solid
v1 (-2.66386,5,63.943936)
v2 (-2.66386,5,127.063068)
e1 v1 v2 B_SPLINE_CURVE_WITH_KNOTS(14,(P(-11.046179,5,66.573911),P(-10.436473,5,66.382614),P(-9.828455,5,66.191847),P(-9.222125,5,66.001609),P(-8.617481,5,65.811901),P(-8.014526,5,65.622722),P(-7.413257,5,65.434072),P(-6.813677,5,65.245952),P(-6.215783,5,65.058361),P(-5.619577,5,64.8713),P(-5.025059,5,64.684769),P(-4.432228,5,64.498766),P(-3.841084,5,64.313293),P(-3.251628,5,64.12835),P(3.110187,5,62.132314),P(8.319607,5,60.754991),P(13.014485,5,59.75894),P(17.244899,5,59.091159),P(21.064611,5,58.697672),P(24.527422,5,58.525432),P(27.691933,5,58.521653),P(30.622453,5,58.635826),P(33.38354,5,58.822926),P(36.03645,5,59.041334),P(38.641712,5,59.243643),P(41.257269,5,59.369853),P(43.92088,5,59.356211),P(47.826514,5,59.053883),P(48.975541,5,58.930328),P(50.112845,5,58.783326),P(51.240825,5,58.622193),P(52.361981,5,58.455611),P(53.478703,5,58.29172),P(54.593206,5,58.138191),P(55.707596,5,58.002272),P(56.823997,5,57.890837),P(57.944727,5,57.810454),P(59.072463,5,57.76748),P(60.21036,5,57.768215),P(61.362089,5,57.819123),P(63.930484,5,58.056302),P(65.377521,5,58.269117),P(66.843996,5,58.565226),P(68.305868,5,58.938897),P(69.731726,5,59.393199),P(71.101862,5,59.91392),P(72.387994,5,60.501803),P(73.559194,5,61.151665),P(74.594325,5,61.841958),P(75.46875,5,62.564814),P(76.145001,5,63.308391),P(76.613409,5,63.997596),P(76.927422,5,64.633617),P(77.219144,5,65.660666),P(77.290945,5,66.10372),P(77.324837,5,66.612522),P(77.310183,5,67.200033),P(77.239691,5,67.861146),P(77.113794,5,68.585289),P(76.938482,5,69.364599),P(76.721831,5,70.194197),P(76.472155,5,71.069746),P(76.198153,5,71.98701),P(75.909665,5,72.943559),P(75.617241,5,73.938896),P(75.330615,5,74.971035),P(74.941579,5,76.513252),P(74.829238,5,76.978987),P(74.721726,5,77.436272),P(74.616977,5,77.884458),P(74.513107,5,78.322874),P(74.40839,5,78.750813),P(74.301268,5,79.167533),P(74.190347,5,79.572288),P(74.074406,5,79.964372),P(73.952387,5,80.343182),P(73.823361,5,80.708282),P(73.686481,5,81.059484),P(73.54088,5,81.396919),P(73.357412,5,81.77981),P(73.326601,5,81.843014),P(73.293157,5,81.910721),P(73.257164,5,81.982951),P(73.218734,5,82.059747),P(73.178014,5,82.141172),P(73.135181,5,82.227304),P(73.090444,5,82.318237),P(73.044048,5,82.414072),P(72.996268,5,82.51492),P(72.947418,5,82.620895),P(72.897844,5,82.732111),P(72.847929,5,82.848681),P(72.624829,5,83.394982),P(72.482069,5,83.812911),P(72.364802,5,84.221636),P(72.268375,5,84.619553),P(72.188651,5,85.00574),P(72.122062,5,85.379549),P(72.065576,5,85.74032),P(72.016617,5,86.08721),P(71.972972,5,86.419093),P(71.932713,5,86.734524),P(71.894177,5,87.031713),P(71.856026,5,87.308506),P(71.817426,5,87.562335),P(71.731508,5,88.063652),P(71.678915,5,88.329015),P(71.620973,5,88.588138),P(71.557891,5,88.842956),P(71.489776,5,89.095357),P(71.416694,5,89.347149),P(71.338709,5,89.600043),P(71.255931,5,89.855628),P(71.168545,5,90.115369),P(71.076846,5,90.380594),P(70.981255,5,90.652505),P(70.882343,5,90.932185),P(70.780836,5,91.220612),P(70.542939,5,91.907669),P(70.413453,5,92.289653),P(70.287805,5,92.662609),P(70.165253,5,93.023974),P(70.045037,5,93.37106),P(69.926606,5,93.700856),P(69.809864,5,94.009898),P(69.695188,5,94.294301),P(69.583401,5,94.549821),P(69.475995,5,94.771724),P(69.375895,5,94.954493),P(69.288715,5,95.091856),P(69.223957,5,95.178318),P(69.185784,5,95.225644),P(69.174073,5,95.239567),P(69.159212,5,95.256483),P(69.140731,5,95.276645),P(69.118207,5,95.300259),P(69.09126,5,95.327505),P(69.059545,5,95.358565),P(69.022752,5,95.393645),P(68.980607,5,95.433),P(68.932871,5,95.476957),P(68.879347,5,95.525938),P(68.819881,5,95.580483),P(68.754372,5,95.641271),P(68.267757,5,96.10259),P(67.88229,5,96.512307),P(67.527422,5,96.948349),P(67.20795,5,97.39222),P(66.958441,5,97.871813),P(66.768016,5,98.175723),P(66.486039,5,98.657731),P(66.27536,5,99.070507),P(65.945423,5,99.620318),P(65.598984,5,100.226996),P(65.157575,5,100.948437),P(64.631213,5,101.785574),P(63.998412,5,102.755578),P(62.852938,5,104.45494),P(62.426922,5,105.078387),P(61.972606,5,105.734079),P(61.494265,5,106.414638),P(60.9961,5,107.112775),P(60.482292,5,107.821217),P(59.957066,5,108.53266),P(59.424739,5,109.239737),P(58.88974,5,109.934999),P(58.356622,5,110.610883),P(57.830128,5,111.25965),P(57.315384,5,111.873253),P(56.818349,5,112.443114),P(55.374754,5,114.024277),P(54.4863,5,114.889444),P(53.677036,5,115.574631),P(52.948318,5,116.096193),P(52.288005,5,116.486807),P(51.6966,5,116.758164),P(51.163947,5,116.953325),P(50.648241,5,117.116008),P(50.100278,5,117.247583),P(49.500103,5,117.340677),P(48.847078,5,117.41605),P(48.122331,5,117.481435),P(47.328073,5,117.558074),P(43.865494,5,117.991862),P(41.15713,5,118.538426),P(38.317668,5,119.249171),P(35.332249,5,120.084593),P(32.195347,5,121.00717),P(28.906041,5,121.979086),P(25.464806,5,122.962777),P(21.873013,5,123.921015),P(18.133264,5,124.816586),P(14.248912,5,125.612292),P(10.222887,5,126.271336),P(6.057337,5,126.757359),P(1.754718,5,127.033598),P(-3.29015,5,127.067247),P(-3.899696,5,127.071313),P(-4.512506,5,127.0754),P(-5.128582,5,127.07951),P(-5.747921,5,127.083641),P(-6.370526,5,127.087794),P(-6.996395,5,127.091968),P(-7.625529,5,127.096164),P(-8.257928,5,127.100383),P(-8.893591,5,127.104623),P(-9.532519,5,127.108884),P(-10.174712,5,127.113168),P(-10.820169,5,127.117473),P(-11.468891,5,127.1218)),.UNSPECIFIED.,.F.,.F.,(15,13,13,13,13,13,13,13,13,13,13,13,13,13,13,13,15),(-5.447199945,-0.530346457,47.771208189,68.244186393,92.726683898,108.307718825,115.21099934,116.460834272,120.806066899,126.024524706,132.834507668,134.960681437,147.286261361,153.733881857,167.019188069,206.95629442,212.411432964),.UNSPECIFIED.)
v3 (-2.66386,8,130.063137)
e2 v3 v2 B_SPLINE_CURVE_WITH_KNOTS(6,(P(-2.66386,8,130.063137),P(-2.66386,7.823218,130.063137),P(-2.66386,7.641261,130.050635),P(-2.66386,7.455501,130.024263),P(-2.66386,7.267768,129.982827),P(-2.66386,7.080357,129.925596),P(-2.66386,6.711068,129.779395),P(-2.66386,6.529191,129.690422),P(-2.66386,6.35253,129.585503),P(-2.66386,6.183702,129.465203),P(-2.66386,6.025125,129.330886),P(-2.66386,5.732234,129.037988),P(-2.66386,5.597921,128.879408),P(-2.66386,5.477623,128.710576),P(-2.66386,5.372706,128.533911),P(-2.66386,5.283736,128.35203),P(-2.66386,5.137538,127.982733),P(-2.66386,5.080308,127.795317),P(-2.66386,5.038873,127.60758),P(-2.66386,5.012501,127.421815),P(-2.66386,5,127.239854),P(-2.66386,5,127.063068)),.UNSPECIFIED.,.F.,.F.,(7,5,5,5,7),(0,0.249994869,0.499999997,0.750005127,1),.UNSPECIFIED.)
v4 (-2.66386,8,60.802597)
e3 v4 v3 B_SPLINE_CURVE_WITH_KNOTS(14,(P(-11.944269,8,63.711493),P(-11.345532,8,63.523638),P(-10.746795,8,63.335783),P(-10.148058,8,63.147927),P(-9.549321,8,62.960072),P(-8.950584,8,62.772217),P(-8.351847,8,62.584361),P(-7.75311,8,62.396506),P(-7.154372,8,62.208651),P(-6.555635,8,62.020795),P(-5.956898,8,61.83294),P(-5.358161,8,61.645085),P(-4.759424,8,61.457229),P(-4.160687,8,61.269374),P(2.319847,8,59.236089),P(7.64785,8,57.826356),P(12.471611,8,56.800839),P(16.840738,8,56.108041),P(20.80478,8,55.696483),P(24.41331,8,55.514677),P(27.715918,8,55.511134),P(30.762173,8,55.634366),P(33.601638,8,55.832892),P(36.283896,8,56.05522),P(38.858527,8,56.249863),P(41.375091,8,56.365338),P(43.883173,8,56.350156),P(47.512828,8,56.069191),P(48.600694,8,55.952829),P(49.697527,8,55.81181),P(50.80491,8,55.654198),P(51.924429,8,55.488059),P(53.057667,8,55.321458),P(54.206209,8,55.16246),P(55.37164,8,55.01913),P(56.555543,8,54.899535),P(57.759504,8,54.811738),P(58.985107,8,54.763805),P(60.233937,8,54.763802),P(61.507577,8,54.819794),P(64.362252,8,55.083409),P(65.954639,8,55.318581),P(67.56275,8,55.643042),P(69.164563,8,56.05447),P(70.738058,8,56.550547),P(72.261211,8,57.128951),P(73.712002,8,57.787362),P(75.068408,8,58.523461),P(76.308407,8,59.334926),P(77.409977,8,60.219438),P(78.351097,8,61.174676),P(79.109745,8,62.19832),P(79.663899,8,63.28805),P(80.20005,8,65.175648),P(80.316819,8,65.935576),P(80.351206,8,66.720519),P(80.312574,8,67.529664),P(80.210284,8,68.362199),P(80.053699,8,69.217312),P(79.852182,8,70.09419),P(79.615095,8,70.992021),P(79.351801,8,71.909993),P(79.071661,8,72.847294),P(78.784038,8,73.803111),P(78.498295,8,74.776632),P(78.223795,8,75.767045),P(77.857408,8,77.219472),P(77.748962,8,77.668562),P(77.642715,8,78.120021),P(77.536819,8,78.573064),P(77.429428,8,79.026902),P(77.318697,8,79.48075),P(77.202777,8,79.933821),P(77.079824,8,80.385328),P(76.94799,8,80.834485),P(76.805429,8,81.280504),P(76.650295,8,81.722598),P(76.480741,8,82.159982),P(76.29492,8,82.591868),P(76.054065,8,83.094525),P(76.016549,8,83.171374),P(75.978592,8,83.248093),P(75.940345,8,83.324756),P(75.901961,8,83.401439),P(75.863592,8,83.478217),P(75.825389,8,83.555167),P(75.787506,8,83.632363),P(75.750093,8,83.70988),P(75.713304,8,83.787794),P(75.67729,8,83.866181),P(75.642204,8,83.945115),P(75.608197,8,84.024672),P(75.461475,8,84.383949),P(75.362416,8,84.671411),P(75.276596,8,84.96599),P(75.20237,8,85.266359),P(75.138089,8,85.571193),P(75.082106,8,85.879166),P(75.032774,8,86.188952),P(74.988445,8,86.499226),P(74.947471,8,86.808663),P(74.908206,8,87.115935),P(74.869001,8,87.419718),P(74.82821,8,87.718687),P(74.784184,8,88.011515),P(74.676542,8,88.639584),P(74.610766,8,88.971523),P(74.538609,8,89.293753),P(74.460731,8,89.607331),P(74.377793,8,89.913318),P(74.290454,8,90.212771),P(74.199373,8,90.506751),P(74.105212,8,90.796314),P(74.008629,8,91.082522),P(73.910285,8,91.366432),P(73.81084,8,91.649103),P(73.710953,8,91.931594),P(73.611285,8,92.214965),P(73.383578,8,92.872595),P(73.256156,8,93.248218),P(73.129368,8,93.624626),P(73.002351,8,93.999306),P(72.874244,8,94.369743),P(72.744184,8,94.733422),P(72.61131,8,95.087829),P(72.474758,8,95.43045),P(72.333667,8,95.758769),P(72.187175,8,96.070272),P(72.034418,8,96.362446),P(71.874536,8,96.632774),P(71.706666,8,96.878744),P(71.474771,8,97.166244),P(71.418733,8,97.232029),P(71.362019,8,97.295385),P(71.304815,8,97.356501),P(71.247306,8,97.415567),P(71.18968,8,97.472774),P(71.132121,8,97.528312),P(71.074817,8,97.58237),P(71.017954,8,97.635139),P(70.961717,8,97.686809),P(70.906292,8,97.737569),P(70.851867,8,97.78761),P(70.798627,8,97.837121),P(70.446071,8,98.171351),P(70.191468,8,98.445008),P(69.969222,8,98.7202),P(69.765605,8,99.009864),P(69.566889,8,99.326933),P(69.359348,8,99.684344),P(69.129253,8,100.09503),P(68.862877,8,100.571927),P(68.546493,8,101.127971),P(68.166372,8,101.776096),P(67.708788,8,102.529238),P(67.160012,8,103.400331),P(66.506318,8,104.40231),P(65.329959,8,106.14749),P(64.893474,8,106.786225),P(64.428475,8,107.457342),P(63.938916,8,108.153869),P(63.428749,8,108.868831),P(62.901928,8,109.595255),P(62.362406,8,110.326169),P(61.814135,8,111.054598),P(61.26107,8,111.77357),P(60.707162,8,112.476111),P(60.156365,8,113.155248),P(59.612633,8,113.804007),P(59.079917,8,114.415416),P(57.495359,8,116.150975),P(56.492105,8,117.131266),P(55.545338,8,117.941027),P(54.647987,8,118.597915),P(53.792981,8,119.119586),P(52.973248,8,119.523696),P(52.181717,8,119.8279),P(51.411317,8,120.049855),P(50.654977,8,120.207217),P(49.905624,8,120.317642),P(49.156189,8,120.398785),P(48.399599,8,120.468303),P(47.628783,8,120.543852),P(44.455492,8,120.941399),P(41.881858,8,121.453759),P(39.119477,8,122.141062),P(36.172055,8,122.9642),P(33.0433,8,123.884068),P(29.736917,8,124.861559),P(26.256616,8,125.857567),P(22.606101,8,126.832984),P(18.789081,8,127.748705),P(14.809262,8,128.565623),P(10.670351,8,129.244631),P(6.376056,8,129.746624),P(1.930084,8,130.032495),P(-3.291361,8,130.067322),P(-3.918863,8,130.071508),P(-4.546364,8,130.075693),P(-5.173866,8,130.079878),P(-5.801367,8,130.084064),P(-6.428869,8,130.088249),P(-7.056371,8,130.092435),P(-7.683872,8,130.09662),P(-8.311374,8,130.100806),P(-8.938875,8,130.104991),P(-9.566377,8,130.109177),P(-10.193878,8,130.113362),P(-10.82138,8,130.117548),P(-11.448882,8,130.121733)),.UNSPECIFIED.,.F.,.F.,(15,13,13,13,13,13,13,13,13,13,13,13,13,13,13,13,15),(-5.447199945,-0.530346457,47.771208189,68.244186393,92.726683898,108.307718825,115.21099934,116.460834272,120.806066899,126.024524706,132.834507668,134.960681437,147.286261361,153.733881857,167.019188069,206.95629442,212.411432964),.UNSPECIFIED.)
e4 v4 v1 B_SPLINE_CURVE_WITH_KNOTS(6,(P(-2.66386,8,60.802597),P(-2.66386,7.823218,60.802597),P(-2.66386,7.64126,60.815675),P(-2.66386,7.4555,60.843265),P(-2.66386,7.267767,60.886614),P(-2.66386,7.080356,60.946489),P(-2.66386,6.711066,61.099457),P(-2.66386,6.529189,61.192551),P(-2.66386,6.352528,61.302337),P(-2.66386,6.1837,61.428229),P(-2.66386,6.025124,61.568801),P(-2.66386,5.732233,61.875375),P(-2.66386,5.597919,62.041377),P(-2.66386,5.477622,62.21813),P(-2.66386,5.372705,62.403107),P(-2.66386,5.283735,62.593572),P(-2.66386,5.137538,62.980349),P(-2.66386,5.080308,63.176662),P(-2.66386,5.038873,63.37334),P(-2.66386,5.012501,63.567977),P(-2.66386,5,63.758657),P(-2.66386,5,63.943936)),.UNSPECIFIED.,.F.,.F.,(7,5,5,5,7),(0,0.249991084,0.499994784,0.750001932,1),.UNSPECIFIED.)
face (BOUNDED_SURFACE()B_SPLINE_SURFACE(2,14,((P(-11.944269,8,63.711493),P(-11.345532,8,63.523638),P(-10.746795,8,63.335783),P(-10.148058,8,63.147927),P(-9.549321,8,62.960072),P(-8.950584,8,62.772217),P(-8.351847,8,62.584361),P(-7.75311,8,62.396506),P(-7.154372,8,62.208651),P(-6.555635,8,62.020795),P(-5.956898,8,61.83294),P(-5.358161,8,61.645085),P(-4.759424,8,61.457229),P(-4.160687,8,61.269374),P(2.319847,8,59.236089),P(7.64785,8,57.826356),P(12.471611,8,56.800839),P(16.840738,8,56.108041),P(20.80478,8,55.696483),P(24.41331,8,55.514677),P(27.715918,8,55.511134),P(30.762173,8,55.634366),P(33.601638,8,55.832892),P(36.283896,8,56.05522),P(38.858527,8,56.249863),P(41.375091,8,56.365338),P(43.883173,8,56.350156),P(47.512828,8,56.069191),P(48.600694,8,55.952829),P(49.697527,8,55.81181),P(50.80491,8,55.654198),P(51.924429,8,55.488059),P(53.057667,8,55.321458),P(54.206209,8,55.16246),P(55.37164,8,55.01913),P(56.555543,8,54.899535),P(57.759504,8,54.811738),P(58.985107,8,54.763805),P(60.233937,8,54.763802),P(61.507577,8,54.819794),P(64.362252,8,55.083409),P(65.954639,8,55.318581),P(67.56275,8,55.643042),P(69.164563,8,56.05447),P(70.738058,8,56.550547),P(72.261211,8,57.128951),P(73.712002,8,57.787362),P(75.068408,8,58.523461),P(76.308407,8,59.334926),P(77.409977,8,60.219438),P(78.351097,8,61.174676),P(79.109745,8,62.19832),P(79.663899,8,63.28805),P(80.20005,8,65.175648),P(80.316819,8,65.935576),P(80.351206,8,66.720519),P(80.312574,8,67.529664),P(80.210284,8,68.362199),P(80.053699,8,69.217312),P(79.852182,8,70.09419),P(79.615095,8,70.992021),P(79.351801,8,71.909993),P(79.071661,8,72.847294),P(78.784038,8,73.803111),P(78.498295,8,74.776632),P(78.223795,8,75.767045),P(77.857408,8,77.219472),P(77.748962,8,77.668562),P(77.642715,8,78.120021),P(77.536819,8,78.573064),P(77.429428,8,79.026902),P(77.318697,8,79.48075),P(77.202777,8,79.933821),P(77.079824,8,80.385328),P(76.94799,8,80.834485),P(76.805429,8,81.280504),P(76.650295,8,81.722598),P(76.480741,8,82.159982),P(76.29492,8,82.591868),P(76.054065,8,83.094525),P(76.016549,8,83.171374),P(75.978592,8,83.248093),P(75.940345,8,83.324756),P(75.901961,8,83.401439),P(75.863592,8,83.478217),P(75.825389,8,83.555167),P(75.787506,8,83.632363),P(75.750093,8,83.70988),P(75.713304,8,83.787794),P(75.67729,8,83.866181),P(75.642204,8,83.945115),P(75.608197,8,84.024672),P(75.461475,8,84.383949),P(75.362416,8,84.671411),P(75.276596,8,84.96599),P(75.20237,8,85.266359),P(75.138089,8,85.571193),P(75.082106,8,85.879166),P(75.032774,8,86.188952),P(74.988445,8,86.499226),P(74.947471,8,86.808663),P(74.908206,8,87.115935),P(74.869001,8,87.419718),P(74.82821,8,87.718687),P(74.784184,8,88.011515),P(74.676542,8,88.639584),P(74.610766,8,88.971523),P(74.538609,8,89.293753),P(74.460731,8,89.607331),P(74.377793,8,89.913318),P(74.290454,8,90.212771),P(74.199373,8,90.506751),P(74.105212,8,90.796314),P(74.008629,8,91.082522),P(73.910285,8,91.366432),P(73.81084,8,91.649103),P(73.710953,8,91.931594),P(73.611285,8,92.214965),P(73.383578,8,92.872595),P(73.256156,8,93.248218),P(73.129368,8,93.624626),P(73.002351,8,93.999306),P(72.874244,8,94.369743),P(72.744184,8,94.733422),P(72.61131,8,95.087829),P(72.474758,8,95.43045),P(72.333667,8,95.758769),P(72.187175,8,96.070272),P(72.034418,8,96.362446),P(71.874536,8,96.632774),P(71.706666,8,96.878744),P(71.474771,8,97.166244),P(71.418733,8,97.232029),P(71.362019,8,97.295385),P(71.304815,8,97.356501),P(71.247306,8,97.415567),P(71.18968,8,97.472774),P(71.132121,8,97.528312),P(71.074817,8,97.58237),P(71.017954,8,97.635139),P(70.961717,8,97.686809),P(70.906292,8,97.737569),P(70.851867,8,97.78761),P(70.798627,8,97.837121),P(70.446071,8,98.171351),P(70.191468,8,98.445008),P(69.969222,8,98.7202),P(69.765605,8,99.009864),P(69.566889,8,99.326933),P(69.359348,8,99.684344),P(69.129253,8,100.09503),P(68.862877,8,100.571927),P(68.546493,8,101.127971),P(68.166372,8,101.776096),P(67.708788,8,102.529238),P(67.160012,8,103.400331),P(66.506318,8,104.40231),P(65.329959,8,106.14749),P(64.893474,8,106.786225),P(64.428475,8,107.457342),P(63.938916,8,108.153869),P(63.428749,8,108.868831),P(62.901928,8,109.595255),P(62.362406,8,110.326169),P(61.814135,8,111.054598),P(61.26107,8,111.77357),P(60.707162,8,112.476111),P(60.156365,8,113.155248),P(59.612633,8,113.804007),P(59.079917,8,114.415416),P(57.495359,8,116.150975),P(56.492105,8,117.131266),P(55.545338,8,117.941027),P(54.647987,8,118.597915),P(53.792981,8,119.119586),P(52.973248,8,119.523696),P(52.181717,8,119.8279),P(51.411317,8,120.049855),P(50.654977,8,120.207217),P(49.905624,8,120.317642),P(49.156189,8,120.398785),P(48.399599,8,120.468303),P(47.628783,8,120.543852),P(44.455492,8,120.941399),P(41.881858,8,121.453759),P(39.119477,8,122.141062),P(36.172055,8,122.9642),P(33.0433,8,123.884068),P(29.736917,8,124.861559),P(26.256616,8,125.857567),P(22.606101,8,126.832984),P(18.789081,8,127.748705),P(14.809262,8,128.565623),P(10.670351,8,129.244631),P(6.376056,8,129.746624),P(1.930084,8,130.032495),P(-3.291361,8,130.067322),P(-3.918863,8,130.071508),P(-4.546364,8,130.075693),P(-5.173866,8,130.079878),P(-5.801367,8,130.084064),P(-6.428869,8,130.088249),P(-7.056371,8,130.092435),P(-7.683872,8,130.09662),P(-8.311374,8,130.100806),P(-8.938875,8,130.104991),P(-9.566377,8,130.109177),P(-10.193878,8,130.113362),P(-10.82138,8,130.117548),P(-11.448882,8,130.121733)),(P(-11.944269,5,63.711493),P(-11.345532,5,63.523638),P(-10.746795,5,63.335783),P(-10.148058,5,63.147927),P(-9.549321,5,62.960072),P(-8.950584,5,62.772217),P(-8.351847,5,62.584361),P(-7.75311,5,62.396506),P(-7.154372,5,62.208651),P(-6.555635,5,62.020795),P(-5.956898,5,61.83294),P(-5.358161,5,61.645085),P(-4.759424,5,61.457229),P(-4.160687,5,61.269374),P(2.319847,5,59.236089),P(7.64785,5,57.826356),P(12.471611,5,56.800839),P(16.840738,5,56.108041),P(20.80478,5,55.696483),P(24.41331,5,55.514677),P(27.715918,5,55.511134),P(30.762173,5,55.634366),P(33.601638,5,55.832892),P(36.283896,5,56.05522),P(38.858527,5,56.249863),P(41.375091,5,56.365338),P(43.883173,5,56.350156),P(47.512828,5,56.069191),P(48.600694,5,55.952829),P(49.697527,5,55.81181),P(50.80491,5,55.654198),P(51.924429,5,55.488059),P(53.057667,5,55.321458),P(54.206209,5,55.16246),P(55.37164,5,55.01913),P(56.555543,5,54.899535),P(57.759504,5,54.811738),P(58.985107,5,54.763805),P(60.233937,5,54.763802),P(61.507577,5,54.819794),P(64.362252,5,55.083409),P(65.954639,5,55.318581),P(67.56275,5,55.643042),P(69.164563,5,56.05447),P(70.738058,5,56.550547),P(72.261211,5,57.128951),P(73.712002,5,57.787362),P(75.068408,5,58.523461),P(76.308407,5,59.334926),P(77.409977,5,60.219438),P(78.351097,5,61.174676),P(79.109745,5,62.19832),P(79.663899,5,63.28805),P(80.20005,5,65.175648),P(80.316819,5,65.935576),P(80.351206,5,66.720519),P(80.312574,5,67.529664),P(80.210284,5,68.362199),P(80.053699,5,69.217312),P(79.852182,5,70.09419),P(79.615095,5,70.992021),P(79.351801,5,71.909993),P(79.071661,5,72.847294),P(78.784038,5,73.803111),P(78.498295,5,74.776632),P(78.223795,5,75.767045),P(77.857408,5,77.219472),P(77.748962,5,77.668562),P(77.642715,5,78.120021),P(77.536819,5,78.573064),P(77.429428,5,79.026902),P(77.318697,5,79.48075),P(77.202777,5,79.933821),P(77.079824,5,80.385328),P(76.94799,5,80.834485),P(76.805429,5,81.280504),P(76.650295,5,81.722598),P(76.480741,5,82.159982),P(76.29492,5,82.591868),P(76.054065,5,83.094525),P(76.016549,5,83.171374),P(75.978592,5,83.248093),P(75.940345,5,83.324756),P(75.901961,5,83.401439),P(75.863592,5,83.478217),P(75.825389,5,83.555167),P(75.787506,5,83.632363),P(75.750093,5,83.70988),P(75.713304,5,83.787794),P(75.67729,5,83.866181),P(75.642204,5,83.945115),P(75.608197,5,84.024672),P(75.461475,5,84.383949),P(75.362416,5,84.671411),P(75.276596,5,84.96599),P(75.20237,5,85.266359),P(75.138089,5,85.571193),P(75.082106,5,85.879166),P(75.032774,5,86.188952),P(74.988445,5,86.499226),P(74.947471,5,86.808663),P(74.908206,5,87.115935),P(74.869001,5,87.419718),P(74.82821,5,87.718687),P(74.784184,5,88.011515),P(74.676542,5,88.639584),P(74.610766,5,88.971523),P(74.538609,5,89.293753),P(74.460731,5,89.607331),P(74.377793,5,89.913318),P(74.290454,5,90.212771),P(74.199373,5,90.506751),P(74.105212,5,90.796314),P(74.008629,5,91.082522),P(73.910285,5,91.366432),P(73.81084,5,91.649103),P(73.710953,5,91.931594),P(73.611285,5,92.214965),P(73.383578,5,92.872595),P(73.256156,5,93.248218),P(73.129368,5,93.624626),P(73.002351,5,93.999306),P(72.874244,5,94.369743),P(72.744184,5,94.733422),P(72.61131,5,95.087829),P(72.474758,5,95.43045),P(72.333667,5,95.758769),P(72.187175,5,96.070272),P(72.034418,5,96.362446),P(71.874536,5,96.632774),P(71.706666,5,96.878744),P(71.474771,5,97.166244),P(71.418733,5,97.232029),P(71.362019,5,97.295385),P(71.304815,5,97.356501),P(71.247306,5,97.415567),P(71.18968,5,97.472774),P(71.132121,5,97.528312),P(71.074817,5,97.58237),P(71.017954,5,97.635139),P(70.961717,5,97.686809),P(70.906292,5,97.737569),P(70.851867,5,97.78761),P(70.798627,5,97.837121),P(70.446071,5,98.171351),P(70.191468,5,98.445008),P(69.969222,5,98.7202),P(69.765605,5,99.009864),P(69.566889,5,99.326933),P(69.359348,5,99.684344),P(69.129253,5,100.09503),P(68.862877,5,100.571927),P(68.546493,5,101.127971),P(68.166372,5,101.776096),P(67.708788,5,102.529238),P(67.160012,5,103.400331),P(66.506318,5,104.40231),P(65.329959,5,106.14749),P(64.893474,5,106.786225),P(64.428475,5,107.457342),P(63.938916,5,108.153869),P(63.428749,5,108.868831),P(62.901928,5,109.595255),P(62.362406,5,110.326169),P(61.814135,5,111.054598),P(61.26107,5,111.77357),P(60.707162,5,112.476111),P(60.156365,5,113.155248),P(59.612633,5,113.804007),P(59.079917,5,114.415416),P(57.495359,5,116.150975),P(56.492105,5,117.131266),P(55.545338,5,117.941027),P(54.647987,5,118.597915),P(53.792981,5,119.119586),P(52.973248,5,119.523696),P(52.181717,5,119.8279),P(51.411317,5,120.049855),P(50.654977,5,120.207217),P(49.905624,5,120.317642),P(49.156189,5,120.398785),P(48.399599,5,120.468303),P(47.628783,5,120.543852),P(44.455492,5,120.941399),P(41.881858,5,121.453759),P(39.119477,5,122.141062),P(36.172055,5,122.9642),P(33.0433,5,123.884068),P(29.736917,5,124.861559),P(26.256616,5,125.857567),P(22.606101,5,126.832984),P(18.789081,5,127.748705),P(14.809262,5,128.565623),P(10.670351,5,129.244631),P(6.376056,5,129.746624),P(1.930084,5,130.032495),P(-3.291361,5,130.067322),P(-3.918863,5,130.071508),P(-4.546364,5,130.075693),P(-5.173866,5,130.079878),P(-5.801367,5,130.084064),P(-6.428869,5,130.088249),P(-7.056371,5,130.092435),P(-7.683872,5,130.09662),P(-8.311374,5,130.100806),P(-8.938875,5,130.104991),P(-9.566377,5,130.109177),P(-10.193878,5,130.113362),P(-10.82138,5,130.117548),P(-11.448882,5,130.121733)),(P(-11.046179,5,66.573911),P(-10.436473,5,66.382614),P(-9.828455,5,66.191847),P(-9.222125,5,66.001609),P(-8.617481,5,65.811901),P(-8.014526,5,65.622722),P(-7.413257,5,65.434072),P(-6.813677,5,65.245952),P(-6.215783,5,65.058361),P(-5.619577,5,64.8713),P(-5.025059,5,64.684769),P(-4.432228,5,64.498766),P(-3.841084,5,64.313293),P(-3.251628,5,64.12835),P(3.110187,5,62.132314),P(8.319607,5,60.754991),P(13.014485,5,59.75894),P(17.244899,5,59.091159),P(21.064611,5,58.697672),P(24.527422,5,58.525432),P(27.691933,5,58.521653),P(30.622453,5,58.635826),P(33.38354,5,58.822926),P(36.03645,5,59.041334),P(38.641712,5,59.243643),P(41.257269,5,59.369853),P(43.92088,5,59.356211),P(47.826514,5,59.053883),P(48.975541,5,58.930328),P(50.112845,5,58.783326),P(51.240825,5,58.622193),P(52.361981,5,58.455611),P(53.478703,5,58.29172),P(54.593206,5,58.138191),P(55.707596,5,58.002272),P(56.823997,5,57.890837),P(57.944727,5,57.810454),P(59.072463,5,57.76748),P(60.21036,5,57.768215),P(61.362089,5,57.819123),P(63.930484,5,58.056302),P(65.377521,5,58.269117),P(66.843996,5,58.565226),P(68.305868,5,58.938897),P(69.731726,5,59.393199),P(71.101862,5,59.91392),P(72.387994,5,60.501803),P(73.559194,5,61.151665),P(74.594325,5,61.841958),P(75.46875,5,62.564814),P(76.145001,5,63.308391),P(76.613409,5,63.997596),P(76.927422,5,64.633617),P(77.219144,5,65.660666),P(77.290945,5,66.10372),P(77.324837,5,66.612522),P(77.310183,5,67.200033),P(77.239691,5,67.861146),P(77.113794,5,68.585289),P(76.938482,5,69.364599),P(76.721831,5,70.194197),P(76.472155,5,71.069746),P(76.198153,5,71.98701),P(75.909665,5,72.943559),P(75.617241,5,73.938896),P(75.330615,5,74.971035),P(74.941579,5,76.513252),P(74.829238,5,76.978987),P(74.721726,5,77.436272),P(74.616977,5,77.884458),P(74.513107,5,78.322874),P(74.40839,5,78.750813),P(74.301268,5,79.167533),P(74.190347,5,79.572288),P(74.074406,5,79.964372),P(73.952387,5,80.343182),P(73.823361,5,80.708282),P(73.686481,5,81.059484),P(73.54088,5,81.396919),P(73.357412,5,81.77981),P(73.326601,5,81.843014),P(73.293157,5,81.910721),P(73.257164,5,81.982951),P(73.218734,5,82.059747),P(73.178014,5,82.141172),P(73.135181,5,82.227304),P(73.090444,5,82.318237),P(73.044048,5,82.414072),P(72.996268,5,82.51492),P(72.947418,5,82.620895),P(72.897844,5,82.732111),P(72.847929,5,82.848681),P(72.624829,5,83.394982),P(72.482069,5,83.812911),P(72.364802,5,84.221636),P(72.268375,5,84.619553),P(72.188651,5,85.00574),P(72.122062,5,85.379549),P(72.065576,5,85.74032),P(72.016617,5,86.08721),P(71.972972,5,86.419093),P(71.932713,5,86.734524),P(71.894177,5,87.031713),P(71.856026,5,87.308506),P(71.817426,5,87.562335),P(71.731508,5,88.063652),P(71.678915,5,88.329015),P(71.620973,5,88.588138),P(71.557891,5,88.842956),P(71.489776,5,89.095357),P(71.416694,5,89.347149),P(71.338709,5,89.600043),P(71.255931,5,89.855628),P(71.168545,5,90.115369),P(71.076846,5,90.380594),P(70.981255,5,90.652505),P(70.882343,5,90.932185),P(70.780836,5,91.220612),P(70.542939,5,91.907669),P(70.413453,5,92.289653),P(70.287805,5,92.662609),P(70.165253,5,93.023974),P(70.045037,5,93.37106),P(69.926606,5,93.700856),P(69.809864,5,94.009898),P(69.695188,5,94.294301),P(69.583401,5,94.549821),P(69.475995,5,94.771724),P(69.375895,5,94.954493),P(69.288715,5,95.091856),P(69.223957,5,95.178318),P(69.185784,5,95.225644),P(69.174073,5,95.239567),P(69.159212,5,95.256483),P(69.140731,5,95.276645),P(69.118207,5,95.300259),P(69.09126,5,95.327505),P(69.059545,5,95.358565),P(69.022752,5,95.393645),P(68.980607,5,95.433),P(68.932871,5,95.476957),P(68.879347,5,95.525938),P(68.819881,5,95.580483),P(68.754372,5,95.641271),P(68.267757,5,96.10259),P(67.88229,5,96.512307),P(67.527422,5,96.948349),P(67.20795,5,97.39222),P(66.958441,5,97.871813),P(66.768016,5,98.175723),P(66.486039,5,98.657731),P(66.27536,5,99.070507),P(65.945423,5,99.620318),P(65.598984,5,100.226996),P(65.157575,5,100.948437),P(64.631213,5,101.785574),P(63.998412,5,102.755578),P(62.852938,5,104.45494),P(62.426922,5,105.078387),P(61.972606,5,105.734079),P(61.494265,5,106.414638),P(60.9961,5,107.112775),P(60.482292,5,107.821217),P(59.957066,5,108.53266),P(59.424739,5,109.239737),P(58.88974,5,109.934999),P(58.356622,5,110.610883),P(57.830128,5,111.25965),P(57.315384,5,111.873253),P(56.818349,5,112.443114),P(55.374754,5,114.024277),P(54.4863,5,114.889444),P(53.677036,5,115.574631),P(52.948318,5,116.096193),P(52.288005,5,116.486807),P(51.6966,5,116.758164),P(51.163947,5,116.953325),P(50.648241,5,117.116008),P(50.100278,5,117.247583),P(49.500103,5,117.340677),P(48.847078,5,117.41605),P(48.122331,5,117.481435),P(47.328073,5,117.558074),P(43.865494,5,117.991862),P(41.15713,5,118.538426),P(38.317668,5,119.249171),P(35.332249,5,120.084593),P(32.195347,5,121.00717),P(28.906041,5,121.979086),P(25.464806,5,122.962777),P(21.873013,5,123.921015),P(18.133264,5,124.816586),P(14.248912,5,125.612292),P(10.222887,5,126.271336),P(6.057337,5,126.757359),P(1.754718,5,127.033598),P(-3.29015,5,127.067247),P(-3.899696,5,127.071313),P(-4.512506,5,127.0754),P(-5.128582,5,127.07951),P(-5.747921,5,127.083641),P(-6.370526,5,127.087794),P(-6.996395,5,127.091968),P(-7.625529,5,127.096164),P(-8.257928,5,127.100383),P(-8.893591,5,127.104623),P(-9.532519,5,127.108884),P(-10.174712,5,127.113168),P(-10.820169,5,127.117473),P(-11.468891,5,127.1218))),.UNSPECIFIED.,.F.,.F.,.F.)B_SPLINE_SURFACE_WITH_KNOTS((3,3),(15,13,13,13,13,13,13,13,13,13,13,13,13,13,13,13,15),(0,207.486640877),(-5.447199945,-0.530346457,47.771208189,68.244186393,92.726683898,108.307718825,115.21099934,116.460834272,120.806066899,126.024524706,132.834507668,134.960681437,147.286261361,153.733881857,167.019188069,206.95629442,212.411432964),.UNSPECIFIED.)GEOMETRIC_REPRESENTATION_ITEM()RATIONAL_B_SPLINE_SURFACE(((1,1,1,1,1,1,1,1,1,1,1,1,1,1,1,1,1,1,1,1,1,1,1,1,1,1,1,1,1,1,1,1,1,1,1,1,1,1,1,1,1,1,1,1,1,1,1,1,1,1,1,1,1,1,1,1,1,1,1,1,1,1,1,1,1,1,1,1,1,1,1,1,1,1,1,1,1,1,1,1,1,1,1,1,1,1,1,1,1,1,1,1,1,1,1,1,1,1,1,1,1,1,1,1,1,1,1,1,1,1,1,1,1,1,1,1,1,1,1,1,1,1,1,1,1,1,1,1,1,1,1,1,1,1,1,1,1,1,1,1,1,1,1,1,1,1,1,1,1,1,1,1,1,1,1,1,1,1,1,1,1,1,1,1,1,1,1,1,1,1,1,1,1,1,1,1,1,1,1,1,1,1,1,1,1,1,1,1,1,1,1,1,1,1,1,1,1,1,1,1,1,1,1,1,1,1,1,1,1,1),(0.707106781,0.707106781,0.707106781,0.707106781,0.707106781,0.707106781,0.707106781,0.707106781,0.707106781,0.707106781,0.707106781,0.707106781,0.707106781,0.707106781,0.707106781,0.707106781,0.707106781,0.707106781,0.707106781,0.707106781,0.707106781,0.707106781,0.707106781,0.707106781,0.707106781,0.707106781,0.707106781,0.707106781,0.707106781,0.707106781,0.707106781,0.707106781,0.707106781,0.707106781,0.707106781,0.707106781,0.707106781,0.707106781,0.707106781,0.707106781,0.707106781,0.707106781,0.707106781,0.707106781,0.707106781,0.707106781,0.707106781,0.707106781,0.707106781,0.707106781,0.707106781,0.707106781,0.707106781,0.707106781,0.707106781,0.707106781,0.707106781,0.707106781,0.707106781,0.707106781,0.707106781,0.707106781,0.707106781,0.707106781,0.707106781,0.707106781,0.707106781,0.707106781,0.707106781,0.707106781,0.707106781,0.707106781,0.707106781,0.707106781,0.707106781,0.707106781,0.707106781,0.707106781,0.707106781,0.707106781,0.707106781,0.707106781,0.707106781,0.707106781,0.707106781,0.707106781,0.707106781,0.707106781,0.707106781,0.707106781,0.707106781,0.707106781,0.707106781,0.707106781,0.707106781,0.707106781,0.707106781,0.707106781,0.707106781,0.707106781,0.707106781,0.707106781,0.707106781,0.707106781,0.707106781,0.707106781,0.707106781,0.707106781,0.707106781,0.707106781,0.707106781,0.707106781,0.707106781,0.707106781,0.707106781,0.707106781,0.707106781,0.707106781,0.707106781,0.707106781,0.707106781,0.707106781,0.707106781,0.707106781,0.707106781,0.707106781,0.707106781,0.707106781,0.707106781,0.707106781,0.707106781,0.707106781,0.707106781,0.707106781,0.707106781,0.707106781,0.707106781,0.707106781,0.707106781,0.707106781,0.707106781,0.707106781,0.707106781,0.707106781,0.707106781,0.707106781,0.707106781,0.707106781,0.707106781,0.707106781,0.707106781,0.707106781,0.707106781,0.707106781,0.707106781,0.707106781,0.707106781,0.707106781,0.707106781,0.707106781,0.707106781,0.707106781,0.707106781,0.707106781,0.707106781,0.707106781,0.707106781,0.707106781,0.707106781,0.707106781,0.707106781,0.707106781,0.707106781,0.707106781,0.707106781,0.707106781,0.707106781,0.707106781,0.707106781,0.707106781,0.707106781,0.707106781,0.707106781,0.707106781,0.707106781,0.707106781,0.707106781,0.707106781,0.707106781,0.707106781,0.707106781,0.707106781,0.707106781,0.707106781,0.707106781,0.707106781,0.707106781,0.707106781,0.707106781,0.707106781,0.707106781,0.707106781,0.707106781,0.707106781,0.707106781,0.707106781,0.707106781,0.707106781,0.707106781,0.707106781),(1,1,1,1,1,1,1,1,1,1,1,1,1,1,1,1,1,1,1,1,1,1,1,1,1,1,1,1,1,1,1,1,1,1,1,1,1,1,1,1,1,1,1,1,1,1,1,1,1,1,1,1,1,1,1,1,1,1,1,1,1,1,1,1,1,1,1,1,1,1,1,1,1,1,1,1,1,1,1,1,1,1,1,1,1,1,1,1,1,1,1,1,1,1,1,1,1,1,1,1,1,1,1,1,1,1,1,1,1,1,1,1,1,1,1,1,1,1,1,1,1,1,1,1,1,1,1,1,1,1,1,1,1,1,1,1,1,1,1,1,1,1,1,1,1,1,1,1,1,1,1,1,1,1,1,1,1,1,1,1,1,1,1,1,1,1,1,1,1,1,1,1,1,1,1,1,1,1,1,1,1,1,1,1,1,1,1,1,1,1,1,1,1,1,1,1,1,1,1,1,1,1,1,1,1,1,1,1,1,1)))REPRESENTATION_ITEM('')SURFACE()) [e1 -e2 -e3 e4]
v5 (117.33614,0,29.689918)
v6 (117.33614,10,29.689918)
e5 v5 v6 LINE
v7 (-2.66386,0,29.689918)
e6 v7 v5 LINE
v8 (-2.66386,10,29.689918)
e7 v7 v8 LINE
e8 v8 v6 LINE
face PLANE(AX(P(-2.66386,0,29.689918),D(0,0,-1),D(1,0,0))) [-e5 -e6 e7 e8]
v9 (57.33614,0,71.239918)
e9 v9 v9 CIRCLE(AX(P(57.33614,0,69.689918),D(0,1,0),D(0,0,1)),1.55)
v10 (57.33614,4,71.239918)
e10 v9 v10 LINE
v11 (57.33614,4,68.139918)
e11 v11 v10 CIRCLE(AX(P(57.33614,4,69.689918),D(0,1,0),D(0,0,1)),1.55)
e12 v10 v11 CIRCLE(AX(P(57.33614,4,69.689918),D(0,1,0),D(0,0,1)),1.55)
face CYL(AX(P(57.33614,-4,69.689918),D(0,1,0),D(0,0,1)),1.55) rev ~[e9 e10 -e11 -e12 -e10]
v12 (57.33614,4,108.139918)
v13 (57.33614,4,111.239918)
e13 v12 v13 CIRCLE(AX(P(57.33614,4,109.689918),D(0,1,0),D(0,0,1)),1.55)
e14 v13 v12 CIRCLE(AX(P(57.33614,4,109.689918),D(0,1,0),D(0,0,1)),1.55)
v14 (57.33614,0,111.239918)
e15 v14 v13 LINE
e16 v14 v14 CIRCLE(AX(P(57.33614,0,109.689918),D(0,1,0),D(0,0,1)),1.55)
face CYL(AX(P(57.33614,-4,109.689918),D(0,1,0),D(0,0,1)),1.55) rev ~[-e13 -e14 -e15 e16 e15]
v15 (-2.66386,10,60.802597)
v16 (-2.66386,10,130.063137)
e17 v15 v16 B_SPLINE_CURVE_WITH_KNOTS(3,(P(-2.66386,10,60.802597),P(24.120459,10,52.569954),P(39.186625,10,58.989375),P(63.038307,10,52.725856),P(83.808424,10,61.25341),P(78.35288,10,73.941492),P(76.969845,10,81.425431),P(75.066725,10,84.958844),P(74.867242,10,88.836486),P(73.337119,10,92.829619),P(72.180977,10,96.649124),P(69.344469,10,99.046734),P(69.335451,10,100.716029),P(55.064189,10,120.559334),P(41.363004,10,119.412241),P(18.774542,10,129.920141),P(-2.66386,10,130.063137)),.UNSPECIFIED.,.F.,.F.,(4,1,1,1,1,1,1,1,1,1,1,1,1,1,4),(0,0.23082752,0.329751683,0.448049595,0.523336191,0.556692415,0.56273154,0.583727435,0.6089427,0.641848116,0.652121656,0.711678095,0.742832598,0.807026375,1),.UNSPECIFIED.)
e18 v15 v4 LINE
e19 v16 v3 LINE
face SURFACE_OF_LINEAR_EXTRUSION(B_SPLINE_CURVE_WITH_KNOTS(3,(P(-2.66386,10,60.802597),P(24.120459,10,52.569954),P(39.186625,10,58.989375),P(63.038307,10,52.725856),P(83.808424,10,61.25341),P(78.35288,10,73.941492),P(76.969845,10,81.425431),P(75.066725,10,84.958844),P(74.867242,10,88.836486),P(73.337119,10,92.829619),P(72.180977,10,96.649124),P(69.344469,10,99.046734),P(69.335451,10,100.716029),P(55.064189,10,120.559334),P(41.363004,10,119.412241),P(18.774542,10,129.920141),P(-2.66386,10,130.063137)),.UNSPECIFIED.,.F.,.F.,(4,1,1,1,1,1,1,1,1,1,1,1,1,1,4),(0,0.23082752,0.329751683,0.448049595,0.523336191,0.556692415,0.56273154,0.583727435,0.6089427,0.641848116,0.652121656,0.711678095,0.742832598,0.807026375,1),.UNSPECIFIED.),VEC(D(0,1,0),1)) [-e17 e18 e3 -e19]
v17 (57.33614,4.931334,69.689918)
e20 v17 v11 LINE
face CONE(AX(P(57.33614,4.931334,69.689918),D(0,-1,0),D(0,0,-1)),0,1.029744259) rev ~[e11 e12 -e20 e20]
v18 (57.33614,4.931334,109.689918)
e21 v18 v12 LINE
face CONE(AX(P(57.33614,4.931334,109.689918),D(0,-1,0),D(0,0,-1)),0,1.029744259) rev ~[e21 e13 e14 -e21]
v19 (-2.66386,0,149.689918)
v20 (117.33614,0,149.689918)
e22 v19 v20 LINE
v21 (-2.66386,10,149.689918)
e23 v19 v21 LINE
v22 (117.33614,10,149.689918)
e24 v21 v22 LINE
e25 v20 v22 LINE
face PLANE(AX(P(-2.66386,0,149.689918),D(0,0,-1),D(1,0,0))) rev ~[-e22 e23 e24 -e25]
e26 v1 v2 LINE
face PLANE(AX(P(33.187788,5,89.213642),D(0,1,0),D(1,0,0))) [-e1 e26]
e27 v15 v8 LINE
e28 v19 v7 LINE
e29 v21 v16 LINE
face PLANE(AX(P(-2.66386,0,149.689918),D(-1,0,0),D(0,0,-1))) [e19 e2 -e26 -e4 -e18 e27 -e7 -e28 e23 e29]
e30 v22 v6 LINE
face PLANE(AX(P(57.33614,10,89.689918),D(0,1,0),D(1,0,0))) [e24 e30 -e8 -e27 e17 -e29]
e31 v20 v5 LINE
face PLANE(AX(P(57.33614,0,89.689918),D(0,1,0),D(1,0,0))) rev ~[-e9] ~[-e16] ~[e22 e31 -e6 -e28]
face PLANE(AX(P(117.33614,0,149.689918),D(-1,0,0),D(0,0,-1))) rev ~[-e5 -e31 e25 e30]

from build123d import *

# Parameters (mm, degrees)
SCHIZZO2_W                   = 120
SCHIZZO2_H                   = 120
ESTRUSIONE_ESTRUSIONE2_DEPTH = 10
FORO_PER_VITE_M2_5_2_D       = 3.1
FORO_PER_VITE_M2_5_2_DEPTH   = 4
FORO_PER_VITE_M2_5_2_TIP     = 0.931333959
TAGLIO_ESTRUSIONE1_DEPTH     = 5
RACCORDO1_R                  = 3


with BuildPart() as part:
    # Schizzo2 → Estrusione-Estrusione2 (new body)
    with BuildSketch(Plane(origin=(0, 0, 0), x_dir=(1, 0, 0), z_dir=(0, 1, 0))):
        with Locations((57.336140445, -89.689917766)):
            Rectangle(SCHIZZO2_W, SCHIZZO2_H)
    extrude(amount=ESTRUSIONE_ESTRUSIONE2_DEPTH)

    # Foro per Vite M2.5-2
    with Locations(Plane(origin=(57.336140445, 0, 69.689917766), x_dir=(0, 0, -1), z_dir=(0, -1, 0))):
        with Locations((0, 0), (-40, 0)):
            Hole(FORO_PER_VITE_M2_5_2_D / 2, depth=FORO_PER_VITE_M2_5_2_DEPTH)
            with Locations((0, 0, -(FORO_PER_VITE_M2_5_2_DEPTH + FORO_PER_VITE_M2_5_2_TIP / 2))):  # 118° drill point
                Cone(0, FORO_PER_VITE_M2_5_2_D / 2, FORO_PER_VITE_M2_5_2_TIP, mode=Mode.SUBTRACT)

    # Schizzo10 → Taglio-Estrusione1 (cut)
    with BuildSketch(Plane(origin=(0, 10, 0), x_dir=(1, 0, 0), z_dir=(0, 1, 0))):
        with BuildLine():
            Line((-2.663859555, -60.802596799), (-2.663859555, -130.063136574))
            add(Edge.make_bspline(
                [(-2.663859555, -60.802596799), (24.120458808, -52.569954294), (39.186624842, -58.989375392), (63.038306723, -52.725855782), (83.808423835, -61.253409566), (78.352880408, -73.941492055), (76.969845115, -81.425430824), (75.06672503, -84.958843946), (74.867241782, -88.836485772), (73.337118961, -92.829619198), (72.180976636, -96.649123539), (69.344468912, -99.046734159), (69.335451288, -100.716029068), (55.064188681, -120.559334241), (41.363004275, -119.412240667), (18.774542286, -129.920141134), (-2.663859555, -130.063136574)],
                knots=[0, 0, 0, 0, 0.23082752, 0.329751683, 0.448049595, 0.523336191, 0.556692415, 0.56273154, 0.583727435, 0.6089427, 0.641848116, 0.652121656, 0.711678095, 0.742832598, 0.807026375, 1, 1, 1, 1], degree=3))
        make_face()
    extrude(amount=-TAGLIO_ESTRUSIONE1_DEPTH, mode=Mode.SUBTRACT)

    # Raccordo1
    raccordo1_edges = [part.edges().sort_by_distance(p)[0] for p in [
        (76.957515661, 5, 80.743306594),
    ]]
    fillet(raccordo1_edges, radius=RACCORDO1_R)


solid = part.part
